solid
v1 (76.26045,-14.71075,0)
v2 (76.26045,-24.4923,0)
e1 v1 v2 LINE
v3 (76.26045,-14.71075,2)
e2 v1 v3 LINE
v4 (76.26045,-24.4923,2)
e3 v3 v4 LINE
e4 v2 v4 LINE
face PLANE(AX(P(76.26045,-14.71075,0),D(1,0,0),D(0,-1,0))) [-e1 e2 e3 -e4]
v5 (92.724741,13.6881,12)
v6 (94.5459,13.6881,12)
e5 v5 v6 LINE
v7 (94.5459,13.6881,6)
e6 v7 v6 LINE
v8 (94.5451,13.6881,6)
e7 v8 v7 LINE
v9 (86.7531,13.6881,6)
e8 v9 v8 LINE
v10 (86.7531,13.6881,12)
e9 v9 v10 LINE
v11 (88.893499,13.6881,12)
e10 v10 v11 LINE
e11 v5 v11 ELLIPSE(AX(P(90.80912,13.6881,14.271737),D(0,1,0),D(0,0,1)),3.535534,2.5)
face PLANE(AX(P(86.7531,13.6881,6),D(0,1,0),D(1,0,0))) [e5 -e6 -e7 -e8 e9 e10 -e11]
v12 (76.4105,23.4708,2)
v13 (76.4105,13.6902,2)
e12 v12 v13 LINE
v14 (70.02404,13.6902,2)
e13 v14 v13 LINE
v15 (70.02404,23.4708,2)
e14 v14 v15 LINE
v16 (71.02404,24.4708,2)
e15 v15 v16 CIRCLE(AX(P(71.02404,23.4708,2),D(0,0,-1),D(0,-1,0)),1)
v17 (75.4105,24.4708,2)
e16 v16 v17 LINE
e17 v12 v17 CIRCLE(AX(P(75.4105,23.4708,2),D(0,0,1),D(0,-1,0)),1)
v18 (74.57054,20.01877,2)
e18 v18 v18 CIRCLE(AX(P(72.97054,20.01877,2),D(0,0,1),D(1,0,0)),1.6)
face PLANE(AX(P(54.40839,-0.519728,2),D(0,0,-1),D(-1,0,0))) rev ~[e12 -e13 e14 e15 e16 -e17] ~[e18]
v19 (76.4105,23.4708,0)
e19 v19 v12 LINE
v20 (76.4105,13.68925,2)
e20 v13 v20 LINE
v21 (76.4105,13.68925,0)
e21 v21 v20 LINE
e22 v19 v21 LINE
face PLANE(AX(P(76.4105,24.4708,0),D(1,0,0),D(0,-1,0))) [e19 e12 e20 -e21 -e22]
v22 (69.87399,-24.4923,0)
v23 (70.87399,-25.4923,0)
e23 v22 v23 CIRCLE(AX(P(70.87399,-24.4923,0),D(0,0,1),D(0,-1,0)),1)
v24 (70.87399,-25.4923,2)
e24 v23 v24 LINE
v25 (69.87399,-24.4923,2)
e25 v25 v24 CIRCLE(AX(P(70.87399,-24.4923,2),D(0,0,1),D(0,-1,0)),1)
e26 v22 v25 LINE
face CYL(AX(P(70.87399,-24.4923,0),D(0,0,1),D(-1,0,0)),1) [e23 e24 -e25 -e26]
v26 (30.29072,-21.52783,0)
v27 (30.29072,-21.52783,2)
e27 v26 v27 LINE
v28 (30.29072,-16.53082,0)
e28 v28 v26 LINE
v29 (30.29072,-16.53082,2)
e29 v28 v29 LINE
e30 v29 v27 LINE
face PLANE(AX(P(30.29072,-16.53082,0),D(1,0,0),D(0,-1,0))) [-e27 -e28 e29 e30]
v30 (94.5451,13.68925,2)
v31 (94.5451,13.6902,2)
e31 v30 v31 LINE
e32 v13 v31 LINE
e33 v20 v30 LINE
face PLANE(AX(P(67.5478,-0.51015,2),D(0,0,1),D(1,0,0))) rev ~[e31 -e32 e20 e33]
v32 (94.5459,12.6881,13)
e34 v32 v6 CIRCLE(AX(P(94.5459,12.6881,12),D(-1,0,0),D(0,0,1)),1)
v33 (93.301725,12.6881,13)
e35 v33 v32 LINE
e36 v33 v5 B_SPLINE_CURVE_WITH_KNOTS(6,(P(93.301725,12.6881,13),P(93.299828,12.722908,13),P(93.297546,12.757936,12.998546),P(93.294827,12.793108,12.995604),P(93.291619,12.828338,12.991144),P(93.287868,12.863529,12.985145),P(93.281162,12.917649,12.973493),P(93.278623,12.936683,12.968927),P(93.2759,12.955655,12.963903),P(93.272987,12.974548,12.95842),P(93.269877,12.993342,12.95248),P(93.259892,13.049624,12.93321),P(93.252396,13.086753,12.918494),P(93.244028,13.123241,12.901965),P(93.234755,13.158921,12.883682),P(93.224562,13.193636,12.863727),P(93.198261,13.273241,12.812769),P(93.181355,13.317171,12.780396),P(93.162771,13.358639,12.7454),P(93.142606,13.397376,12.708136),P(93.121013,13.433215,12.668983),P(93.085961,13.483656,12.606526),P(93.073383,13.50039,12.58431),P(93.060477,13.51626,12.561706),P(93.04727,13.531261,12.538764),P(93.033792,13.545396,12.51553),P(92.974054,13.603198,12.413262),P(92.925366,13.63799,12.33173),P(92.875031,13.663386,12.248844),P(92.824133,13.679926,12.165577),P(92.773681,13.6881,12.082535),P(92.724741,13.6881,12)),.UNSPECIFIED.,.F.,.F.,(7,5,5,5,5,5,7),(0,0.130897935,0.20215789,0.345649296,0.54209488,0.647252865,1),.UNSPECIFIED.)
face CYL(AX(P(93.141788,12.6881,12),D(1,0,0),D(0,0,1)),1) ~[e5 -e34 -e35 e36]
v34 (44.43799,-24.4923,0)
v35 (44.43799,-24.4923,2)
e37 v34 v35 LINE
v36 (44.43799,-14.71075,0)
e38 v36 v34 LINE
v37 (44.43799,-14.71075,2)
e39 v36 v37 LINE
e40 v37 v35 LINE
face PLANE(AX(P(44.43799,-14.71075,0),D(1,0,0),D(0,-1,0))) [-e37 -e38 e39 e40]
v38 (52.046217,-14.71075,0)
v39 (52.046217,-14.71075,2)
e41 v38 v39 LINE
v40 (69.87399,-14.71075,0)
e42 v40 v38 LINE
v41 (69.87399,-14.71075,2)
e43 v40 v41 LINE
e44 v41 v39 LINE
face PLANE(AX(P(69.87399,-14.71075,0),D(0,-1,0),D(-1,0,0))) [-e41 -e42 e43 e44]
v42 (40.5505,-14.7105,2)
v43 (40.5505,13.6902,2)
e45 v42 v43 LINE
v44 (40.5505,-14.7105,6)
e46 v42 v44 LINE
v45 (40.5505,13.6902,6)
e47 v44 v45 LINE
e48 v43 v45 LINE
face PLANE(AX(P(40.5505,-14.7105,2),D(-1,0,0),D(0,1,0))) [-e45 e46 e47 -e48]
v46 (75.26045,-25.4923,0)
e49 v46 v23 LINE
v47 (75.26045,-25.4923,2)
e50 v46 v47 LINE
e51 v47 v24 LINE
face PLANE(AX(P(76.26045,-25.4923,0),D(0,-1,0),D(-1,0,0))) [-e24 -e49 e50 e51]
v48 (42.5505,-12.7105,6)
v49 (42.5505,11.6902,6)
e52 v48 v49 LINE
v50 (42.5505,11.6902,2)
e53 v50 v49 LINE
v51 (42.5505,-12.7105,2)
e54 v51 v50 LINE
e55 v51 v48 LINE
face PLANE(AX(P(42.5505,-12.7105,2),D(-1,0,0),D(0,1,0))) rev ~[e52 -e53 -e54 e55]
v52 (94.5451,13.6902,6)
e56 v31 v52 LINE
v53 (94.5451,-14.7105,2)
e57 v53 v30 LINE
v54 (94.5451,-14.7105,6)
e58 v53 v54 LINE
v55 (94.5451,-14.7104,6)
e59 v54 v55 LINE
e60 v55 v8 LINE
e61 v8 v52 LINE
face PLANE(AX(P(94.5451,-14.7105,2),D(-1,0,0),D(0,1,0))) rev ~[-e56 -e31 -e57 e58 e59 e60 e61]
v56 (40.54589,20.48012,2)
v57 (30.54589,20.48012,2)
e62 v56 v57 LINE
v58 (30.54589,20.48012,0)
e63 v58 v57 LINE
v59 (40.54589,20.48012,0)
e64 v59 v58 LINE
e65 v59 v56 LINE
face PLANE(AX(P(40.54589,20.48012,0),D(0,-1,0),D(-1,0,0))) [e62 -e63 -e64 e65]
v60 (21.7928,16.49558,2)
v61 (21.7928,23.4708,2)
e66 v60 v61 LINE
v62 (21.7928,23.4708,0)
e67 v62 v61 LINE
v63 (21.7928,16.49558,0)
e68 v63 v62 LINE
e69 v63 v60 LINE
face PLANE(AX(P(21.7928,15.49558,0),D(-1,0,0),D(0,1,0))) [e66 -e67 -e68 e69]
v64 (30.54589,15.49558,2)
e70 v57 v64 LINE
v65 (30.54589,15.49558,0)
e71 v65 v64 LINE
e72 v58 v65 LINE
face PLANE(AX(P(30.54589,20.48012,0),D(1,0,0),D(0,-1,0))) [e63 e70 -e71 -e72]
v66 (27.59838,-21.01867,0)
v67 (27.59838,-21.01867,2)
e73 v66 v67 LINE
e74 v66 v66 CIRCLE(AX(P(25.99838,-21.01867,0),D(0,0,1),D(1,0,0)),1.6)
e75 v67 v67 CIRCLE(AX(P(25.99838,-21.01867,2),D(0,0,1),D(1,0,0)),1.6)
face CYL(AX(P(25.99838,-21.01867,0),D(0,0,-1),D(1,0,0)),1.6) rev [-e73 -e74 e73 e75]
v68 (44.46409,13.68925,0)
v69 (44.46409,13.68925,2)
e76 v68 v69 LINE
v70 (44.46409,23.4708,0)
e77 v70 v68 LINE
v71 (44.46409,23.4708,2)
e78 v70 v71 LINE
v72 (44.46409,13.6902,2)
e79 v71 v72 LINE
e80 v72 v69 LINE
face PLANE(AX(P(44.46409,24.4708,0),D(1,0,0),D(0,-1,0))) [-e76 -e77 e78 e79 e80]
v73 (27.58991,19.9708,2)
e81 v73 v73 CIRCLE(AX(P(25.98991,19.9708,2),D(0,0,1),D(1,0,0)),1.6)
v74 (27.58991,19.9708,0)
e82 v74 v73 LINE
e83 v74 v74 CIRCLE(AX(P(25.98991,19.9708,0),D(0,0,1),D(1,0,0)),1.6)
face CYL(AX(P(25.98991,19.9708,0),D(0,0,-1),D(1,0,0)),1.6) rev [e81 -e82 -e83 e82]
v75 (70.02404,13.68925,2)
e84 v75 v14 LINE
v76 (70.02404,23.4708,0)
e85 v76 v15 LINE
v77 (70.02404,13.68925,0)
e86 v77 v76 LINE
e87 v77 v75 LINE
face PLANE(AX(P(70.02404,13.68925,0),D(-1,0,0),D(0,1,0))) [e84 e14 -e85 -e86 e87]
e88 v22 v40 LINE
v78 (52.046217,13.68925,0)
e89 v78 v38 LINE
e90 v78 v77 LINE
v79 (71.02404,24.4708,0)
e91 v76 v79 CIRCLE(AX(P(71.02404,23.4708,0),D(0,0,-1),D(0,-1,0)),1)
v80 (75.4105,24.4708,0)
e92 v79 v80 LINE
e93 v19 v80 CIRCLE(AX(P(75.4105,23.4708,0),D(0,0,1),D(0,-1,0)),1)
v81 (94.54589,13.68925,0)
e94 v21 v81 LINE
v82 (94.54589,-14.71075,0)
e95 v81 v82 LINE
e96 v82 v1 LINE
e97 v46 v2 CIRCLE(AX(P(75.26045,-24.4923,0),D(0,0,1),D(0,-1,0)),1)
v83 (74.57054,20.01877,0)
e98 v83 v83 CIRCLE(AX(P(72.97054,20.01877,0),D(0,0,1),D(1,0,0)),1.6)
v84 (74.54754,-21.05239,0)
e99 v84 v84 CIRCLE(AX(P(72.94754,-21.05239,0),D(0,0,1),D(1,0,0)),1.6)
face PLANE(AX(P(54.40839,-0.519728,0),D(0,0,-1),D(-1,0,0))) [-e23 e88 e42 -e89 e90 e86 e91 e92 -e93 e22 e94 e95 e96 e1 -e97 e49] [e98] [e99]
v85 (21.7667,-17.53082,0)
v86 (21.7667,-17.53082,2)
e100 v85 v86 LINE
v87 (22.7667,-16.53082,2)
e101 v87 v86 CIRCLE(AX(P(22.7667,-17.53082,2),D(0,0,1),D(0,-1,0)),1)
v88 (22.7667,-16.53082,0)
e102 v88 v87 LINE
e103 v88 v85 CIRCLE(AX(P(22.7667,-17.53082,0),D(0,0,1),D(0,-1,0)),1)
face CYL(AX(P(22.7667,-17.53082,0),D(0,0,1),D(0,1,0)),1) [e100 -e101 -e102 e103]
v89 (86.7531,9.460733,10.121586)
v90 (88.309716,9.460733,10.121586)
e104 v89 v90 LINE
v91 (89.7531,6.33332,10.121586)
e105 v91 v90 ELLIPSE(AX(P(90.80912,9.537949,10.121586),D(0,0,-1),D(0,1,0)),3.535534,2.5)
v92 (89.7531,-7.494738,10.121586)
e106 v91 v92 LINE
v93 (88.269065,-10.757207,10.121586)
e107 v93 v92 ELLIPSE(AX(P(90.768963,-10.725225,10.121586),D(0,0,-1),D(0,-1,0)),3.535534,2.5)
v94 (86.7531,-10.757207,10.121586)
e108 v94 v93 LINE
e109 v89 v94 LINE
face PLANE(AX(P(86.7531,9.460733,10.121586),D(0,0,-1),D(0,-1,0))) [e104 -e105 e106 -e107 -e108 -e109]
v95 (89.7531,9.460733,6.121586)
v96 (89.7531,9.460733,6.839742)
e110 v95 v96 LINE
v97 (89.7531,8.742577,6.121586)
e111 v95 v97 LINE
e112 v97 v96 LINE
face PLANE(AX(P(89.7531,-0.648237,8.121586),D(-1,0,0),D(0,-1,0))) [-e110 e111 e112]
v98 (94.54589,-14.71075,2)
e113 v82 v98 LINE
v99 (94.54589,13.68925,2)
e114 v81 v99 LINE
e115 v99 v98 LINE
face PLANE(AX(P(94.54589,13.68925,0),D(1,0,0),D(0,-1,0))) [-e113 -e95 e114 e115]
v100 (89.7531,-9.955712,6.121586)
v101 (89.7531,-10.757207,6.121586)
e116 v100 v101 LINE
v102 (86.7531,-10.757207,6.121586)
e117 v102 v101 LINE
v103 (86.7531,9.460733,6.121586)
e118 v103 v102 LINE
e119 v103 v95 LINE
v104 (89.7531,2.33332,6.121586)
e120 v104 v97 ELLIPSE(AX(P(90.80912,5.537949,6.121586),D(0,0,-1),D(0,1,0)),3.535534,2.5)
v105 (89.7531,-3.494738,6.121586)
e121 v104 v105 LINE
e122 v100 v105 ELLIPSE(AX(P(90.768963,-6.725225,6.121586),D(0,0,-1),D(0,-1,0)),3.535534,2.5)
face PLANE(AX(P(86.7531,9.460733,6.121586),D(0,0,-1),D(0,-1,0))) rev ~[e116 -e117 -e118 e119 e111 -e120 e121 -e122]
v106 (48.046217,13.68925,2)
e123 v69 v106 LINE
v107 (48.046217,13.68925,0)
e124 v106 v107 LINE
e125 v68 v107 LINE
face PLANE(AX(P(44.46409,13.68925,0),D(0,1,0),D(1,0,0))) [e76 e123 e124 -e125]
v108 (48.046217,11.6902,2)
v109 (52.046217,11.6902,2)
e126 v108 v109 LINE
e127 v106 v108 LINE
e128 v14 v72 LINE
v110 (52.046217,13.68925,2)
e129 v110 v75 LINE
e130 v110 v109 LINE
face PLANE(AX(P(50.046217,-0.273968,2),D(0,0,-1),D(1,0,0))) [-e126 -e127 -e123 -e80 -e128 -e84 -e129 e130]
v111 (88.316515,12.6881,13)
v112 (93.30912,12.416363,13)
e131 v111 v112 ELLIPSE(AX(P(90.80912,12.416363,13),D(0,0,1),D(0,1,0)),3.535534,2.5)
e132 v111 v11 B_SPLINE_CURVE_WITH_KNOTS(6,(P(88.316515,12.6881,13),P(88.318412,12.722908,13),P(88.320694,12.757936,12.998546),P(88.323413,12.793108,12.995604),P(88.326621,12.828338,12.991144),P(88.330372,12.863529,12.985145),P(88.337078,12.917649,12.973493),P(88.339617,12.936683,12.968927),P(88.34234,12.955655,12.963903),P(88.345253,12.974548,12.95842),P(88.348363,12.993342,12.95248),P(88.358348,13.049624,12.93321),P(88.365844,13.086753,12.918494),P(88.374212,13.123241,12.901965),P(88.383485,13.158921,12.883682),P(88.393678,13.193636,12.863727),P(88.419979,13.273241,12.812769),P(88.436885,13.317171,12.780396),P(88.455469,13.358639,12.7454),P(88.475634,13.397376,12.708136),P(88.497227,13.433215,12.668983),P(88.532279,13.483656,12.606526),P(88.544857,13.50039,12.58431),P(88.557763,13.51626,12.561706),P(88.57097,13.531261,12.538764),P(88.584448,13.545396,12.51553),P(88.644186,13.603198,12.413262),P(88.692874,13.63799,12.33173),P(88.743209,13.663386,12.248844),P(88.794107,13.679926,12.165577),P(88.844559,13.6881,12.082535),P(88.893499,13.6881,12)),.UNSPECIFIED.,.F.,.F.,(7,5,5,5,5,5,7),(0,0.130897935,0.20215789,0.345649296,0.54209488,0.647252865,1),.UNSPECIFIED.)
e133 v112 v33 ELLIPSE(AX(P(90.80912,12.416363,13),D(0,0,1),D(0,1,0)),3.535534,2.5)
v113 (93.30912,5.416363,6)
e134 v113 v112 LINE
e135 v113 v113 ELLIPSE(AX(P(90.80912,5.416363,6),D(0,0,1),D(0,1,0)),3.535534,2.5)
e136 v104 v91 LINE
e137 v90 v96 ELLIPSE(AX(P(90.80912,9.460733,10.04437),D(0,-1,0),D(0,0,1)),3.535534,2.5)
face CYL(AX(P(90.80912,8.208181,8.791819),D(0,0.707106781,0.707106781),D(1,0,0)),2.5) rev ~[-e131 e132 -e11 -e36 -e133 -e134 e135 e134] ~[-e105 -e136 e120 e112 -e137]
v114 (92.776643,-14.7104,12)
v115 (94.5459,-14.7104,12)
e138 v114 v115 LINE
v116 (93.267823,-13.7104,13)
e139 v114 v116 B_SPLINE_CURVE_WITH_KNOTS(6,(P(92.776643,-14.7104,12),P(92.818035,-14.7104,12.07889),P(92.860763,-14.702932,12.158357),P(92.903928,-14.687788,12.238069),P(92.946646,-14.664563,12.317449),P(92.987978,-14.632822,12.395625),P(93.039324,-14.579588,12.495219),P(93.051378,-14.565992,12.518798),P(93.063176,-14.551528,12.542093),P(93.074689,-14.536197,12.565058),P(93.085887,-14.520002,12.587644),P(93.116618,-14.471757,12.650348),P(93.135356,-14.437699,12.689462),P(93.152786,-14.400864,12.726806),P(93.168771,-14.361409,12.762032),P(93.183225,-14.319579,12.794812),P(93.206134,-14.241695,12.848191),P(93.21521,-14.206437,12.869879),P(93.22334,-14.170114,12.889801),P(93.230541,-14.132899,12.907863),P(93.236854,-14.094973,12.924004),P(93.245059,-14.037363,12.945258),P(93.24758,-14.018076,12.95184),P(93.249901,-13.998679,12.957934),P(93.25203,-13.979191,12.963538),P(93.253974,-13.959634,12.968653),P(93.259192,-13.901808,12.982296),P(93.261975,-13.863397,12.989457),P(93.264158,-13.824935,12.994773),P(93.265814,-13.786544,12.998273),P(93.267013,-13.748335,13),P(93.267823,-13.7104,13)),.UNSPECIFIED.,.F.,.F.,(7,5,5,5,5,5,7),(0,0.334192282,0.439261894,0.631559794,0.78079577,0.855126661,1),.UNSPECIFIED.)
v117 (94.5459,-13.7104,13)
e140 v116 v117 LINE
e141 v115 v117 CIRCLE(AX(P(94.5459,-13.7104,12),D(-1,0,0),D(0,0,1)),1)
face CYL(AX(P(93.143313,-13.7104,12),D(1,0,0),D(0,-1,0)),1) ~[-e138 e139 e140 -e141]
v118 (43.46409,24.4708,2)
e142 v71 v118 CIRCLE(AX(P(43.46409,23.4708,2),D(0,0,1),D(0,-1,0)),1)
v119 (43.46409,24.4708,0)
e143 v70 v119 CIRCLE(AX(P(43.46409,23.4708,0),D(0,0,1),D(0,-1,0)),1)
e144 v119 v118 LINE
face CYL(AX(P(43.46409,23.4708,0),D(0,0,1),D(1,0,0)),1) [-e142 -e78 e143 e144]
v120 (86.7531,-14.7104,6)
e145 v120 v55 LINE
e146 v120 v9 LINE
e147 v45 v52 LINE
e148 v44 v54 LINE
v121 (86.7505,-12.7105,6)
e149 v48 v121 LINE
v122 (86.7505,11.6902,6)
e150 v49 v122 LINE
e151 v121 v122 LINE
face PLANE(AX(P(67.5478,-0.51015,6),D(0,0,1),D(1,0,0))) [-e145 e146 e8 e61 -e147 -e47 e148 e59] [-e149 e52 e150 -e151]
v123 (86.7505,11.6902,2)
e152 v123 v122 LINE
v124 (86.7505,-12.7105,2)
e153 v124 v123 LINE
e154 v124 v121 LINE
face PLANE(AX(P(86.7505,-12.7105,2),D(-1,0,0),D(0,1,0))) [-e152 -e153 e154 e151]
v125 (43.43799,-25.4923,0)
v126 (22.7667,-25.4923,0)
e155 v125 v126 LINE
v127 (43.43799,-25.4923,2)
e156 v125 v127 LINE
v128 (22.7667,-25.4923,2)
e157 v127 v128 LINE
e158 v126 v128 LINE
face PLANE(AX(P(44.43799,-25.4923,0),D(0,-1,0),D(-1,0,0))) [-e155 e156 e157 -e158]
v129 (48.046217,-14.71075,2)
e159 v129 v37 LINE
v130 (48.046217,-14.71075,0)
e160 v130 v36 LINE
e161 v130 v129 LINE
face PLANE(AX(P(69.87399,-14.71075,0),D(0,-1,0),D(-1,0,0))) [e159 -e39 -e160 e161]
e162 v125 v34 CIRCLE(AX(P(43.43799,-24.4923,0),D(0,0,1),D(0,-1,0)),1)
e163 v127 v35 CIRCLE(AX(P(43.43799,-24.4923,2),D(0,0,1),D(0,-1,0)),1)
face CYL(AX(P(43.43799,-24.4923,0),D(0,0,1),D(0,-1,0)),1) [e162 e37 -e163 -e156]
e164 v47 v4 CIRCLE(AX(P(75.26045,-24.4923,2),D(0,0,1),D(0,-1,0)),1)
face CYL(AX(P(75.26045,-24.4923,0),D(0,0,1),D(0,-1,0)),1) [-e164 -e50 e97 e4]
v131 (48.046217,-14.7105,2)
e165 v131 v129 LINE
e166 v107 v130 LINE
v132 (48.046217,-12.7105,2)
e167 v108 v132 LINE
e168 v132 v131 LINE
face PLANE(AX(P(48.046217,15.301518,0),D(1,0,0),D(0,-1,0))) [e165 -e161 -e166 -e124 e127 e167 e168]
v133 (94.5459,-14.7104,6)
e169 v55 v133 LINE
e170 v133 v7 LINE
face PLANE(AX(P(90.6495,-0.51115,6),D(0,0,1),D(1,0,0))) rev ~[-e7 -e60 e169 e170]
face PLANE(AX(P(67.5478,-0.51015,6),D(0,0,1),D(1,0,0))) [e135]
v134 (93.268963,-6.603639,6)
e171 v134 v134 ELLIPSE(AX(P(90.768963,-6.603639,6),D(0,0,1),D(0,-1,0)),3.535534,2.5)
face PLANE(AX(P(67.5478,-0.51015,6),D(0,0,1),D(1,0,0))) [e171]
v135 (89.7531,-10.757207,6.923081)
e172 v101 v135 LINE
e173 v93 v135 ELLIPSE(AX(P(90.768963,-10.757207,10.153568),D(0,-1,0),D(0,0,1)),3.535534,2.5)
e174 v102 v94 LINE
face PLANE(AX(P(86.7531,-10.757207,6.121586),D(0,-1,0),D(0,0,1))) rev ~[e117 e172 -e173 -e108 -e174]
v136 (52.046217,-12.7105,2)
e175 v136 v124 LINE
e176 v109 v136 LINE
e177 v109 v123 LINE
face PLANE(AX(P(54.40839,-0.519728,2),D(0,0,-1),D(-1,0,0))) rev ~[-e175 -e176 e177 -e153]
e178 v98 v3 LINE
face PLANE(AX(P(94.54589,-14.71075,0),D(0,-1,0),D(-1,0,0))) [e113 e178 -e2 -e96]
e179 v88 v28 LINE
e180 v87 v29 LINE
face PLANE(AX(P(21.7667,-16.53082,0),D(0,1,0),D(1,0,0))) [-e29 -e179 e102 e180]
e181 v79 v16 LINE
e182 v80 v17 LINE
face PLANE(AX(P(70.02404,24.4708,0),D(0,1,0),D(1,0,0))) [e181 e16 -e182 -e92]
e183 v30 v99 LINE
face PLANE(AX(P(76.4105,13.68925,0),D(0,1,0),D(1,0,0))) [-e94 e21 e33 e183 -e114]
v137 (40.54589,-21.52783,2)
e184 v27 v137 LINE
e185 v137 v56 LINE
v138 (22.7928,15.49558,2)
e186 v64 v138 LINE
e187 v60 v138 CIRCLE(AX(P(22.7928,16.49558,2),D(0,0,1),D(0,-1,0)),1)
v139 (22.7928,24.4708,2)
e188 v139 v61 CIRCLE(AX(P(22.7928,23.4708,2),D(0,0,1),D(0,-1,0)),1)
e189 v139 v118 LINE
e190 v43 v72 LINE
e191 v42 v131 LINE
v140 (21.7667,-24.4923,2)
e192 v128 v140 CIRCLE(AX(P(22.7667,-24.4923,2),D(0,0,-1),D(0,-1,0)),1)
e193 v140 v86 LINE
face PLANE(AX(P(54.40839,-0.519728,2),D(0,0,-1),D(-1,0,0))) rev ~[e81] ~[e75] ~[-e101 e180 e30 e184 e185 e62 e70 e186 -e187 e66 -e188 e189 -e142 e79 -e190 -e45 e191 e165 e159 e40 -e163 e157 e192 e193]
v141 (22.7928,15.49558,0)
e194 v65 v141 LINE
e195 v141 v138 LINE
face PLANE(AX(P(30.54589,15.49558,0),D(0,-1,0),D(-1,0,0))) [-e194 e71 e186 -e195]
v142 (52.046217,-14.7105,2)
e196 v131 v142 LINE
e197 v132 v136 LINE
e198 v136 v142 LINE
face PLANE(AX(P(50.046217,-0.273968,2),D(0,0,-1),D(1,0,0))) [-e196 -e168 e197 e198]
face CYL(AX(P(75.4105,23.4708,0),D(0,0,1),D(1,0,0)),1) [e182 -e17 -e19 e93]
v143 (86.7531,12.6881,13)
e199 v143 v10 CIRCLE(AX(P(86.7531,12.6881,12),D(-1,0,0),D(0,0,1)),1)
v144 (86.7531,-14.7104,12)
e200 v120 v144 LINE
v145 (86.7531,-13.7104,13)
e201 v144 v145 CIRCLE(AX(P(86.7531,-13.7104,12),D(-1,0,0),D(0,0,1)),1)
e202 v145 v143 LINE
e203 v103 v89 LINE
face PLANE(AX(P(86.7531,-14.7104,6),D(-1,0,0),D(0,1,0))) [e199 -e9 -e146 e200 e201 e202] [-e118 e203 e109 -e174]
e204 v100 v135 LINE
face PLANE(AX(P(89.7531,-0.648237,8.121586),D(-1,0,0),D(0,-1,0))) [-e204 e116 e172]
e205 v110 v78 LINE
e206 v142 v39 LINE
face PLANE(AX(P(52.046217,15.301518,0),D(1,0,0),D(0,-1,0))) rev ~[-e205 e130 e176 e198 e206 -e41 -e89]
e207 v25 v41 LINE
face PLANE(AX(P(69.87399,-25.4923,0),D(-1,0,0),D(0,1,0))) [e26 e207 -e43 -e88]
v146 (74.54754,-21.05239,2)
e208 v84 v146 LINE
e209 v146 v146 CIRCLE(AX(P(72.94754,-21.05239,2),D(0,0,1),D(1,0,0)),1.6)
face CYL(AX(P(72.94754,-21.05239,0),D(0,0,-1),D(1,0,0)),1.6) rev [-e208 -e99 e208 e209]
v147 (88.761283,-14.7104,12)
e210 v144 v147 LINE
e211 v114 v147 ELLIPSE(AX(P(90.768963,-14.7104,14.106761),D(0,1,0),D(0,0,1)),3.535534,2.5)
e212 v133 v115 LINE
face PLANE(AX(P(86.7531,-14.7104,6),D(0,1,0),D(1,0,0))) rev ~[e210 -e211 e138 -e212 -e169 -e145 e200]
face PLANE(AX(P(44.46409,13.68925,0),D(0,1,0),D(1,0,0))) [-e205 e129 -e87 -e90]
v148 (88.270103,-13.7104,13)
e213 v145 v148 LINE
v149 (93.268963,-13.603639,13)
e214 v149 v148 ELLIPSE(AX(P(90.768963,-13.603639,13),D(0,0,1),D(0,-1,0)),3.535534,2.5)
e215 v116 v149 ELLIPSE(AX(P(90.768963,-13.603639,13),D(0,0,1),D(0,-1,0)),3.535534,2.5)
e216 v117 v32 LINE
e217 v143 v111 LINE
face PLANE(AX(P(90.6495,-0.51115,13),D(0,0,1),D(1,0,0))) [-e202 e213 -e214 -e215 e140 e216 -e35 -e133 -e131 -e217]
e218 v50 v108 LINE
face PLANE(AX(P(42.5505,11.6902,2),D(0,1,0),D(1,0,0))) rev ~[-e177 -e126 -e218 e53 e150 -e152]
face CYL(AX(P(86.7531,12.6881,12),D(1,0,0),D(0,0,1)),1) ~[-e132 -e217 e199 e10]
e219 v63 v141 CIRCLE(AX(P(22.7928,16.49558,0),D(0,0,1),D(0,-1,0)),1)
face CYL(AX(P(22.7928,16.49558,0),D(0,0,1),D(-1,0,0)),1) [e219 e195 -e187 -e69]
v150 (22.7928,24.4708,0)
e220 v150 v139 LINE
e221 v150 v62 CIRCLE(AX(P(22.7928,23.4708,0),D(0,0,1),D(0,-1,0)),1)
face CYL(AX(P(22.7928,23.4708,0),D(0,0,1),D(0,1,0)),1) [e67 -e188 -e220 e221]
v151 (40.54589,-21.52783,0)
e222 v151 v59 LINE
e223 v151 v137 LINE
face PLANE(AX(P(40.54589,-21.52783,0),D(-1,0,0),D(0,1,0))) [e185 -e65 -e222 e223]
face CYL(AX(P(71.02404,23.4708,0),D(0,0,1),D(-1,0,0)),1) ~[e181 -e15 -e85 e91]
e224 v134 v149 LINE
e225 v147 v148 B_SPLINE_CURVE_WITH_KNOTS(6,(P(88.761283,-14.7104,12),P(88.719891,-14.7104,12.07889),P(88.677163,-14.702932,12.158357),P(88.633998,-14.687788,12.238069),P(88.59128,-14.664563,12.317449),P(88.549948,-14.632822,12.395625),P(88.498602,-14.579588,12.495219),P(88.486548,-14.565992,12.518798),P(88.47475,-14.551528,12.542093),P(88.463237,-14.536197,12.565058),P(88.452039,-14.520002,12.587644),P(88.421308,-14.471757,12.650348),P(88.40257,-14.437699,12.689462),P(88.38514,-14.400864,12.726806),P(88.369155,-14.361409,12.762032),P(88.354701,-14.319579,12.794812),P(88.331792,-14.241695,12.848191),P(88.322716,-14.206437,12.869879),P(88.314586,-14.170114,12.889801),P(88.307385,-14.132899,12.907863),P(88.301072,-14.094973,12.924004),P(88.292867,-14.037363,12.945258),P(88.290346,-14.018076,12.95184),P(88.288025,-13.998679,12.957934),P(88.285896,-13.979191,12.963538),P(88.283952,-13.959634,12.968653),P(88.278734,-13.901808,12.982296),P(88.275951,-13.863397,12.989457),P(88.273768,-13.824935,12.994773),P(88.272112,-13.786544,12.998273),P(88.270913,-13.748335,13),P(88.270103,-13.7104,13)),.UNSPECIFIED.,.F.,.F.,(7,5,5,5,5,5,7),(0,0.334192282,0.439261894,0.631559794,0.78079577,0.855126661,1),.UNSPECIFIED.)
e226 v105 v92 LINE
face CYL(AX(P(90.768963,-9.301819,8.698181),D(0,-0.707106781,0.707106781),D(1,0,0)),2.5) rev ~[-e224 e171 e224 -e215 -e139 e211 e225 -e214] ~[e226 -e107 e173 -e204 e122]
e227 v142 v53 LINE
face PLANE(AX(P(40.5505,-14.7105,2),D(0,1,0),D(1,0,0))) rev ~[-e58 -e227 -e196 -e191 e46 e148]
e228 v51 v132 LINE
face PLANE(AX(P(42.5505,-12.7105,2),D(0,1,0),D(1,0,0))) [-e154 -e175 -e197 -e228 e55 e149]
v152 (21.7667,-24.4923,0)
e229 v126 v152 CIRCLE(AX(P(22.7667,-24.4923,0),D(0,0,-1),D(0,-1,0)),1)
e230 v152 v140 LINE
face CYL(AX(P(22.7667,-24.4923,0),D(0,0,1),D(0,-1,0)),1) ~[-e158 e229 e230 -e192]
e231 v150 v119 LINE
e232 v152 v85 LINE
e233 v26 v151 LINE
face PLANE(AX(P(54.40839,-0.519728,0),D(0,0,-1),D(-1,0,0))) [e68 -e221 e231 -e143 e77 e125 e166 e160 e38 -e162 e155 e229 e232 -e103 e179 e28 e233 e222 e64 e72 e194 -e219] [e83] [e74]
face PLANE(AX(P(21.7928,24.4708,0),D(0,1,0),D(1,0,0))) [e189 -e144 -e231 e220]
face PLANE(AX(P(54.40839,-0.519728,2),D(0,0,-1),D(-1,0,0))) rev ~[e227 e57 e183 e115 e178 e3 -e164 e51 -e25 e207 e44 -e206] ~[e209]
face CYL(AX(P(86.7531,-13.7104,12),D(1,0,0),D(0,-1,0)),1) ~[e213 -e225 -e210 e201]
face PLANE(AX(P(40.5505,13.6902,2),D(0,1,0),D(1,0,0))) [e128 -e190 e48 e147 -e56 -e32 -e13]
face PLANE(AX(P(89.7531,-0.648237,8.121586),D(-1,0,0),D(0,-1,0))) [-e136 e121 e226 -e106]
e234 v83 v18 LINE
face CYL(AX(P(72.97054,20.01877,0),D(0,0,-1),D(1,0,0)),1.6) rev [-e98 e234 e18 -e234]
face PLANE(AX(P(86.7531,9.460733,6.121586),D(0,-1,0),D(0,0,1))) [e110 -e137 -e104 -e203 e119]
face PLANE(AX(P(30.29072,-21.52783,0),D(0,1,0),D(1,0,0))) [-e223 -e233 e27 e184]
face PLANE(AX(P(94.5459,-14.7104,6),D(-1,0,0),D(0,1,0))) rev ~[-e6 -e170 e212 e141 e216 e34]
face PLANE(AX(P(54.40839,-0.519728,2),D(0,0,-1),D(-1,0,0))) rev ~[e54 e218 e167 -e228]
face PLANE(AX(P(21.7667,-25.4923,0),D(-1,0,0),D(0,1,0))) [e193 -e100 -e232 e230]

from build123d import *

# Parameters (mm, degrees)
SKETCH002_R     = 2.5
PAD002_DEPTH    = 7.5
SKETCH003_R     = 2.5
PAD003_DEPTH    = 7.25
SKETCH004_W     = 7.7928
SKETCH004_H     = 28.3985
PAD004_DEPTH    = 7
SKETCH006_W     = 20.21794
SKETCH006_H     = 4
POCKET_DEPTH    = 3
SKETCH_R        = 1.6
PAD_DEPTH       = 2
SKETCH001_W     = 53.9946
SKETCH001_H     = 28.4007
SKETCH001_W_2   = 44.2
SKETCH001_H_2   = 24.4007
PAD001_DEPTH    = 4
FILLET001_R     = 1
FILLET002_R     = 1
SKETCH007_W     = 4
SKETCH007_H     = 31.150972
POCKET001_DEPTH = 2


with BuildPart() as pad002:
    # Sketch002 → Pad002 (new body, symmetric)
    with BuildSketch(Plane(origin=(0.5, -2, 16), x_dir=(1, 0, 0), z_dir=(0, -0.707107, 0.707107))):
        with Locations((90.268963, -10.326332)):
            Circle(SKETCH002_R)
    extrude(amount=PAD002_DEPTH, both=True)


with BuildPart() as pad003:
    # Sketch003 → Pad003 (new body, symmetric)
    with BuildSketch(Plane(origin=(0, 8, 9), x_dir=(1, 0, 0), z_dir=(0, 0.707107, 0.707107))):
        with Locations((90.80912, 0.294413)):
            Circle(SKETCH003_R)
    extrude(amount=PAD003_DEPTH, both=True)


with BuildPart() as pocket:
    # Sketch004 → Pad004 (new body)
    with BuildSketch(Plane.XY.offset(6)):
        with Locations((90.6495, -0.51115)):
            Rectangle(SKETCH004_W, SKETCH004_H)
    extrude(amount=PAD004_DEPTH)

    # Cut: cut Pad003
    add(pad003.part, mode=Mode.SUBTRACT)

    # Cut001: cut Pad002
    add(pad002.part, mode=Mode.SUBTRACT)

    # Sketch006 → Pocket (cut)
    with BuildSketch(Plane(origin=(86.7531, 0, 0), x_dir=(0, -1, 0), z_dir=(-1, 0, 0))):
        with Locations((0.648237, 8.121586)):
            Rectangle(SKETCH006_W, SKETCH006_H)
    extrude(amount=-POCKET_DEPTH, mode=Mode.SUBTRACT)


with BuildPart() as pocket001:
    # Sketch → Pad (new body)
    with BuildSketch(Plane.XY):
        Polygon((21.7667, -25.4923), (21.7667, -16.53082), (30.29072, -16.53082), (30.29072, -21.52783), (40.54589, -21.52783), (40.54589, 20.48012), (30.54589, 20.48012), (30.54589, 15.49558), (21.7928, 15.49558), (21.7928, 24.4708), (44.46409, 24.4708), (44.46409, 13.68925), (70.02404, 13.68925), (70.02404, 24.4708), (76.4105, 24.4708), (76.4105, 13.68925), (94.54589, 13.68925), (94.54589, -14.71075), (76.26045, -14.71075), (76.26045, -25.4923), (69.87399, -25.4923), (69.87399, -14.71075), (44.43799, -14.71075), (44.43799, -25.4923), align=None)
        with Locations((25.98991, 19.9708)):
            Circle(SKETCH_R, mode=Mode.SUBTRACT)
        with Locations((25.99838, -21.01867)):
            Circle(SKETCH_R, mode=Mode.SUBTRACT)
        with Locations((72.97054, 20.01877)):
            Circle(SKETCH_R, mode=Mode.SUBTRACT)
        with Locations((72.94754, -21.05239)):
            Circle(SKETCH_R, mode=Mode.SUBTRACT)
    extrude(amount=PAD_DEPTH)

    # Sketch001 → Pad001 (new body)
    with BuildSketch(Plane.XY.offset(2)):
        with Locations((67.5478, -0.51015)):
            Rectangle(SKETCH001_W, SKETCH001_H)
        with Locations((64.6505, -0.51015)):
            Rectangle(SKETCH001_W_2, SKETCH001_H_2, mode=Mode.SUBTRACT)
    extrude(amount=PAD001_DEPTH)

    # Fusion: union Pocket
    add(pocket.part)

    # Fillet001
    fillet001_edges = [pocket001.edges().sort_by_distance(p)[0] for p in [
        (87.573856, -14.7104, 13),
        (93.844607, -14.7104, 13),
        (93.843844, 13.6881, 13),
        (87.614776, 13.6881, 13),
    ]]
    fillet(fillet001_edges, radius=FILLET001_R)

    # Fillet002
    fillet002_edges = [pocket001.edges().sort_by_distance(p)[0] for p in [
        (76.26045, -25.4923, 1),
        (69.87399, -25.4923, 1),
        (44.43799, -25.4923, 1),
        (21.7667, -25.4923, 1),
        (21.7928, 15.49558, 1),
        (21.7667, -16.53082, 1),
        (21.7928, 24.4708, 1),
        (70.02404, 24.4708, 1),
        (76.4105, 24.4708, 1),
        (44.46409, 24.4708, 1),
    ]]
    fillet(fillet002_edges, radius=FILLET002_R)

    # Sketch007 → Pocket001 (cut)
    with BuildSketch(Plane(origin=(0, 0, 0), x_dir=(1, 0, 0), z_dir=(0, 0, -1))):
        with Locations((50.046217, 0.273968)):
            Rectangle(SKETCH007_W, SKETCH007_H)
    extrude(amount=-POCKET001_DEPTH, mode=Mode.SUBTRACT)


solid = pocket001.part
